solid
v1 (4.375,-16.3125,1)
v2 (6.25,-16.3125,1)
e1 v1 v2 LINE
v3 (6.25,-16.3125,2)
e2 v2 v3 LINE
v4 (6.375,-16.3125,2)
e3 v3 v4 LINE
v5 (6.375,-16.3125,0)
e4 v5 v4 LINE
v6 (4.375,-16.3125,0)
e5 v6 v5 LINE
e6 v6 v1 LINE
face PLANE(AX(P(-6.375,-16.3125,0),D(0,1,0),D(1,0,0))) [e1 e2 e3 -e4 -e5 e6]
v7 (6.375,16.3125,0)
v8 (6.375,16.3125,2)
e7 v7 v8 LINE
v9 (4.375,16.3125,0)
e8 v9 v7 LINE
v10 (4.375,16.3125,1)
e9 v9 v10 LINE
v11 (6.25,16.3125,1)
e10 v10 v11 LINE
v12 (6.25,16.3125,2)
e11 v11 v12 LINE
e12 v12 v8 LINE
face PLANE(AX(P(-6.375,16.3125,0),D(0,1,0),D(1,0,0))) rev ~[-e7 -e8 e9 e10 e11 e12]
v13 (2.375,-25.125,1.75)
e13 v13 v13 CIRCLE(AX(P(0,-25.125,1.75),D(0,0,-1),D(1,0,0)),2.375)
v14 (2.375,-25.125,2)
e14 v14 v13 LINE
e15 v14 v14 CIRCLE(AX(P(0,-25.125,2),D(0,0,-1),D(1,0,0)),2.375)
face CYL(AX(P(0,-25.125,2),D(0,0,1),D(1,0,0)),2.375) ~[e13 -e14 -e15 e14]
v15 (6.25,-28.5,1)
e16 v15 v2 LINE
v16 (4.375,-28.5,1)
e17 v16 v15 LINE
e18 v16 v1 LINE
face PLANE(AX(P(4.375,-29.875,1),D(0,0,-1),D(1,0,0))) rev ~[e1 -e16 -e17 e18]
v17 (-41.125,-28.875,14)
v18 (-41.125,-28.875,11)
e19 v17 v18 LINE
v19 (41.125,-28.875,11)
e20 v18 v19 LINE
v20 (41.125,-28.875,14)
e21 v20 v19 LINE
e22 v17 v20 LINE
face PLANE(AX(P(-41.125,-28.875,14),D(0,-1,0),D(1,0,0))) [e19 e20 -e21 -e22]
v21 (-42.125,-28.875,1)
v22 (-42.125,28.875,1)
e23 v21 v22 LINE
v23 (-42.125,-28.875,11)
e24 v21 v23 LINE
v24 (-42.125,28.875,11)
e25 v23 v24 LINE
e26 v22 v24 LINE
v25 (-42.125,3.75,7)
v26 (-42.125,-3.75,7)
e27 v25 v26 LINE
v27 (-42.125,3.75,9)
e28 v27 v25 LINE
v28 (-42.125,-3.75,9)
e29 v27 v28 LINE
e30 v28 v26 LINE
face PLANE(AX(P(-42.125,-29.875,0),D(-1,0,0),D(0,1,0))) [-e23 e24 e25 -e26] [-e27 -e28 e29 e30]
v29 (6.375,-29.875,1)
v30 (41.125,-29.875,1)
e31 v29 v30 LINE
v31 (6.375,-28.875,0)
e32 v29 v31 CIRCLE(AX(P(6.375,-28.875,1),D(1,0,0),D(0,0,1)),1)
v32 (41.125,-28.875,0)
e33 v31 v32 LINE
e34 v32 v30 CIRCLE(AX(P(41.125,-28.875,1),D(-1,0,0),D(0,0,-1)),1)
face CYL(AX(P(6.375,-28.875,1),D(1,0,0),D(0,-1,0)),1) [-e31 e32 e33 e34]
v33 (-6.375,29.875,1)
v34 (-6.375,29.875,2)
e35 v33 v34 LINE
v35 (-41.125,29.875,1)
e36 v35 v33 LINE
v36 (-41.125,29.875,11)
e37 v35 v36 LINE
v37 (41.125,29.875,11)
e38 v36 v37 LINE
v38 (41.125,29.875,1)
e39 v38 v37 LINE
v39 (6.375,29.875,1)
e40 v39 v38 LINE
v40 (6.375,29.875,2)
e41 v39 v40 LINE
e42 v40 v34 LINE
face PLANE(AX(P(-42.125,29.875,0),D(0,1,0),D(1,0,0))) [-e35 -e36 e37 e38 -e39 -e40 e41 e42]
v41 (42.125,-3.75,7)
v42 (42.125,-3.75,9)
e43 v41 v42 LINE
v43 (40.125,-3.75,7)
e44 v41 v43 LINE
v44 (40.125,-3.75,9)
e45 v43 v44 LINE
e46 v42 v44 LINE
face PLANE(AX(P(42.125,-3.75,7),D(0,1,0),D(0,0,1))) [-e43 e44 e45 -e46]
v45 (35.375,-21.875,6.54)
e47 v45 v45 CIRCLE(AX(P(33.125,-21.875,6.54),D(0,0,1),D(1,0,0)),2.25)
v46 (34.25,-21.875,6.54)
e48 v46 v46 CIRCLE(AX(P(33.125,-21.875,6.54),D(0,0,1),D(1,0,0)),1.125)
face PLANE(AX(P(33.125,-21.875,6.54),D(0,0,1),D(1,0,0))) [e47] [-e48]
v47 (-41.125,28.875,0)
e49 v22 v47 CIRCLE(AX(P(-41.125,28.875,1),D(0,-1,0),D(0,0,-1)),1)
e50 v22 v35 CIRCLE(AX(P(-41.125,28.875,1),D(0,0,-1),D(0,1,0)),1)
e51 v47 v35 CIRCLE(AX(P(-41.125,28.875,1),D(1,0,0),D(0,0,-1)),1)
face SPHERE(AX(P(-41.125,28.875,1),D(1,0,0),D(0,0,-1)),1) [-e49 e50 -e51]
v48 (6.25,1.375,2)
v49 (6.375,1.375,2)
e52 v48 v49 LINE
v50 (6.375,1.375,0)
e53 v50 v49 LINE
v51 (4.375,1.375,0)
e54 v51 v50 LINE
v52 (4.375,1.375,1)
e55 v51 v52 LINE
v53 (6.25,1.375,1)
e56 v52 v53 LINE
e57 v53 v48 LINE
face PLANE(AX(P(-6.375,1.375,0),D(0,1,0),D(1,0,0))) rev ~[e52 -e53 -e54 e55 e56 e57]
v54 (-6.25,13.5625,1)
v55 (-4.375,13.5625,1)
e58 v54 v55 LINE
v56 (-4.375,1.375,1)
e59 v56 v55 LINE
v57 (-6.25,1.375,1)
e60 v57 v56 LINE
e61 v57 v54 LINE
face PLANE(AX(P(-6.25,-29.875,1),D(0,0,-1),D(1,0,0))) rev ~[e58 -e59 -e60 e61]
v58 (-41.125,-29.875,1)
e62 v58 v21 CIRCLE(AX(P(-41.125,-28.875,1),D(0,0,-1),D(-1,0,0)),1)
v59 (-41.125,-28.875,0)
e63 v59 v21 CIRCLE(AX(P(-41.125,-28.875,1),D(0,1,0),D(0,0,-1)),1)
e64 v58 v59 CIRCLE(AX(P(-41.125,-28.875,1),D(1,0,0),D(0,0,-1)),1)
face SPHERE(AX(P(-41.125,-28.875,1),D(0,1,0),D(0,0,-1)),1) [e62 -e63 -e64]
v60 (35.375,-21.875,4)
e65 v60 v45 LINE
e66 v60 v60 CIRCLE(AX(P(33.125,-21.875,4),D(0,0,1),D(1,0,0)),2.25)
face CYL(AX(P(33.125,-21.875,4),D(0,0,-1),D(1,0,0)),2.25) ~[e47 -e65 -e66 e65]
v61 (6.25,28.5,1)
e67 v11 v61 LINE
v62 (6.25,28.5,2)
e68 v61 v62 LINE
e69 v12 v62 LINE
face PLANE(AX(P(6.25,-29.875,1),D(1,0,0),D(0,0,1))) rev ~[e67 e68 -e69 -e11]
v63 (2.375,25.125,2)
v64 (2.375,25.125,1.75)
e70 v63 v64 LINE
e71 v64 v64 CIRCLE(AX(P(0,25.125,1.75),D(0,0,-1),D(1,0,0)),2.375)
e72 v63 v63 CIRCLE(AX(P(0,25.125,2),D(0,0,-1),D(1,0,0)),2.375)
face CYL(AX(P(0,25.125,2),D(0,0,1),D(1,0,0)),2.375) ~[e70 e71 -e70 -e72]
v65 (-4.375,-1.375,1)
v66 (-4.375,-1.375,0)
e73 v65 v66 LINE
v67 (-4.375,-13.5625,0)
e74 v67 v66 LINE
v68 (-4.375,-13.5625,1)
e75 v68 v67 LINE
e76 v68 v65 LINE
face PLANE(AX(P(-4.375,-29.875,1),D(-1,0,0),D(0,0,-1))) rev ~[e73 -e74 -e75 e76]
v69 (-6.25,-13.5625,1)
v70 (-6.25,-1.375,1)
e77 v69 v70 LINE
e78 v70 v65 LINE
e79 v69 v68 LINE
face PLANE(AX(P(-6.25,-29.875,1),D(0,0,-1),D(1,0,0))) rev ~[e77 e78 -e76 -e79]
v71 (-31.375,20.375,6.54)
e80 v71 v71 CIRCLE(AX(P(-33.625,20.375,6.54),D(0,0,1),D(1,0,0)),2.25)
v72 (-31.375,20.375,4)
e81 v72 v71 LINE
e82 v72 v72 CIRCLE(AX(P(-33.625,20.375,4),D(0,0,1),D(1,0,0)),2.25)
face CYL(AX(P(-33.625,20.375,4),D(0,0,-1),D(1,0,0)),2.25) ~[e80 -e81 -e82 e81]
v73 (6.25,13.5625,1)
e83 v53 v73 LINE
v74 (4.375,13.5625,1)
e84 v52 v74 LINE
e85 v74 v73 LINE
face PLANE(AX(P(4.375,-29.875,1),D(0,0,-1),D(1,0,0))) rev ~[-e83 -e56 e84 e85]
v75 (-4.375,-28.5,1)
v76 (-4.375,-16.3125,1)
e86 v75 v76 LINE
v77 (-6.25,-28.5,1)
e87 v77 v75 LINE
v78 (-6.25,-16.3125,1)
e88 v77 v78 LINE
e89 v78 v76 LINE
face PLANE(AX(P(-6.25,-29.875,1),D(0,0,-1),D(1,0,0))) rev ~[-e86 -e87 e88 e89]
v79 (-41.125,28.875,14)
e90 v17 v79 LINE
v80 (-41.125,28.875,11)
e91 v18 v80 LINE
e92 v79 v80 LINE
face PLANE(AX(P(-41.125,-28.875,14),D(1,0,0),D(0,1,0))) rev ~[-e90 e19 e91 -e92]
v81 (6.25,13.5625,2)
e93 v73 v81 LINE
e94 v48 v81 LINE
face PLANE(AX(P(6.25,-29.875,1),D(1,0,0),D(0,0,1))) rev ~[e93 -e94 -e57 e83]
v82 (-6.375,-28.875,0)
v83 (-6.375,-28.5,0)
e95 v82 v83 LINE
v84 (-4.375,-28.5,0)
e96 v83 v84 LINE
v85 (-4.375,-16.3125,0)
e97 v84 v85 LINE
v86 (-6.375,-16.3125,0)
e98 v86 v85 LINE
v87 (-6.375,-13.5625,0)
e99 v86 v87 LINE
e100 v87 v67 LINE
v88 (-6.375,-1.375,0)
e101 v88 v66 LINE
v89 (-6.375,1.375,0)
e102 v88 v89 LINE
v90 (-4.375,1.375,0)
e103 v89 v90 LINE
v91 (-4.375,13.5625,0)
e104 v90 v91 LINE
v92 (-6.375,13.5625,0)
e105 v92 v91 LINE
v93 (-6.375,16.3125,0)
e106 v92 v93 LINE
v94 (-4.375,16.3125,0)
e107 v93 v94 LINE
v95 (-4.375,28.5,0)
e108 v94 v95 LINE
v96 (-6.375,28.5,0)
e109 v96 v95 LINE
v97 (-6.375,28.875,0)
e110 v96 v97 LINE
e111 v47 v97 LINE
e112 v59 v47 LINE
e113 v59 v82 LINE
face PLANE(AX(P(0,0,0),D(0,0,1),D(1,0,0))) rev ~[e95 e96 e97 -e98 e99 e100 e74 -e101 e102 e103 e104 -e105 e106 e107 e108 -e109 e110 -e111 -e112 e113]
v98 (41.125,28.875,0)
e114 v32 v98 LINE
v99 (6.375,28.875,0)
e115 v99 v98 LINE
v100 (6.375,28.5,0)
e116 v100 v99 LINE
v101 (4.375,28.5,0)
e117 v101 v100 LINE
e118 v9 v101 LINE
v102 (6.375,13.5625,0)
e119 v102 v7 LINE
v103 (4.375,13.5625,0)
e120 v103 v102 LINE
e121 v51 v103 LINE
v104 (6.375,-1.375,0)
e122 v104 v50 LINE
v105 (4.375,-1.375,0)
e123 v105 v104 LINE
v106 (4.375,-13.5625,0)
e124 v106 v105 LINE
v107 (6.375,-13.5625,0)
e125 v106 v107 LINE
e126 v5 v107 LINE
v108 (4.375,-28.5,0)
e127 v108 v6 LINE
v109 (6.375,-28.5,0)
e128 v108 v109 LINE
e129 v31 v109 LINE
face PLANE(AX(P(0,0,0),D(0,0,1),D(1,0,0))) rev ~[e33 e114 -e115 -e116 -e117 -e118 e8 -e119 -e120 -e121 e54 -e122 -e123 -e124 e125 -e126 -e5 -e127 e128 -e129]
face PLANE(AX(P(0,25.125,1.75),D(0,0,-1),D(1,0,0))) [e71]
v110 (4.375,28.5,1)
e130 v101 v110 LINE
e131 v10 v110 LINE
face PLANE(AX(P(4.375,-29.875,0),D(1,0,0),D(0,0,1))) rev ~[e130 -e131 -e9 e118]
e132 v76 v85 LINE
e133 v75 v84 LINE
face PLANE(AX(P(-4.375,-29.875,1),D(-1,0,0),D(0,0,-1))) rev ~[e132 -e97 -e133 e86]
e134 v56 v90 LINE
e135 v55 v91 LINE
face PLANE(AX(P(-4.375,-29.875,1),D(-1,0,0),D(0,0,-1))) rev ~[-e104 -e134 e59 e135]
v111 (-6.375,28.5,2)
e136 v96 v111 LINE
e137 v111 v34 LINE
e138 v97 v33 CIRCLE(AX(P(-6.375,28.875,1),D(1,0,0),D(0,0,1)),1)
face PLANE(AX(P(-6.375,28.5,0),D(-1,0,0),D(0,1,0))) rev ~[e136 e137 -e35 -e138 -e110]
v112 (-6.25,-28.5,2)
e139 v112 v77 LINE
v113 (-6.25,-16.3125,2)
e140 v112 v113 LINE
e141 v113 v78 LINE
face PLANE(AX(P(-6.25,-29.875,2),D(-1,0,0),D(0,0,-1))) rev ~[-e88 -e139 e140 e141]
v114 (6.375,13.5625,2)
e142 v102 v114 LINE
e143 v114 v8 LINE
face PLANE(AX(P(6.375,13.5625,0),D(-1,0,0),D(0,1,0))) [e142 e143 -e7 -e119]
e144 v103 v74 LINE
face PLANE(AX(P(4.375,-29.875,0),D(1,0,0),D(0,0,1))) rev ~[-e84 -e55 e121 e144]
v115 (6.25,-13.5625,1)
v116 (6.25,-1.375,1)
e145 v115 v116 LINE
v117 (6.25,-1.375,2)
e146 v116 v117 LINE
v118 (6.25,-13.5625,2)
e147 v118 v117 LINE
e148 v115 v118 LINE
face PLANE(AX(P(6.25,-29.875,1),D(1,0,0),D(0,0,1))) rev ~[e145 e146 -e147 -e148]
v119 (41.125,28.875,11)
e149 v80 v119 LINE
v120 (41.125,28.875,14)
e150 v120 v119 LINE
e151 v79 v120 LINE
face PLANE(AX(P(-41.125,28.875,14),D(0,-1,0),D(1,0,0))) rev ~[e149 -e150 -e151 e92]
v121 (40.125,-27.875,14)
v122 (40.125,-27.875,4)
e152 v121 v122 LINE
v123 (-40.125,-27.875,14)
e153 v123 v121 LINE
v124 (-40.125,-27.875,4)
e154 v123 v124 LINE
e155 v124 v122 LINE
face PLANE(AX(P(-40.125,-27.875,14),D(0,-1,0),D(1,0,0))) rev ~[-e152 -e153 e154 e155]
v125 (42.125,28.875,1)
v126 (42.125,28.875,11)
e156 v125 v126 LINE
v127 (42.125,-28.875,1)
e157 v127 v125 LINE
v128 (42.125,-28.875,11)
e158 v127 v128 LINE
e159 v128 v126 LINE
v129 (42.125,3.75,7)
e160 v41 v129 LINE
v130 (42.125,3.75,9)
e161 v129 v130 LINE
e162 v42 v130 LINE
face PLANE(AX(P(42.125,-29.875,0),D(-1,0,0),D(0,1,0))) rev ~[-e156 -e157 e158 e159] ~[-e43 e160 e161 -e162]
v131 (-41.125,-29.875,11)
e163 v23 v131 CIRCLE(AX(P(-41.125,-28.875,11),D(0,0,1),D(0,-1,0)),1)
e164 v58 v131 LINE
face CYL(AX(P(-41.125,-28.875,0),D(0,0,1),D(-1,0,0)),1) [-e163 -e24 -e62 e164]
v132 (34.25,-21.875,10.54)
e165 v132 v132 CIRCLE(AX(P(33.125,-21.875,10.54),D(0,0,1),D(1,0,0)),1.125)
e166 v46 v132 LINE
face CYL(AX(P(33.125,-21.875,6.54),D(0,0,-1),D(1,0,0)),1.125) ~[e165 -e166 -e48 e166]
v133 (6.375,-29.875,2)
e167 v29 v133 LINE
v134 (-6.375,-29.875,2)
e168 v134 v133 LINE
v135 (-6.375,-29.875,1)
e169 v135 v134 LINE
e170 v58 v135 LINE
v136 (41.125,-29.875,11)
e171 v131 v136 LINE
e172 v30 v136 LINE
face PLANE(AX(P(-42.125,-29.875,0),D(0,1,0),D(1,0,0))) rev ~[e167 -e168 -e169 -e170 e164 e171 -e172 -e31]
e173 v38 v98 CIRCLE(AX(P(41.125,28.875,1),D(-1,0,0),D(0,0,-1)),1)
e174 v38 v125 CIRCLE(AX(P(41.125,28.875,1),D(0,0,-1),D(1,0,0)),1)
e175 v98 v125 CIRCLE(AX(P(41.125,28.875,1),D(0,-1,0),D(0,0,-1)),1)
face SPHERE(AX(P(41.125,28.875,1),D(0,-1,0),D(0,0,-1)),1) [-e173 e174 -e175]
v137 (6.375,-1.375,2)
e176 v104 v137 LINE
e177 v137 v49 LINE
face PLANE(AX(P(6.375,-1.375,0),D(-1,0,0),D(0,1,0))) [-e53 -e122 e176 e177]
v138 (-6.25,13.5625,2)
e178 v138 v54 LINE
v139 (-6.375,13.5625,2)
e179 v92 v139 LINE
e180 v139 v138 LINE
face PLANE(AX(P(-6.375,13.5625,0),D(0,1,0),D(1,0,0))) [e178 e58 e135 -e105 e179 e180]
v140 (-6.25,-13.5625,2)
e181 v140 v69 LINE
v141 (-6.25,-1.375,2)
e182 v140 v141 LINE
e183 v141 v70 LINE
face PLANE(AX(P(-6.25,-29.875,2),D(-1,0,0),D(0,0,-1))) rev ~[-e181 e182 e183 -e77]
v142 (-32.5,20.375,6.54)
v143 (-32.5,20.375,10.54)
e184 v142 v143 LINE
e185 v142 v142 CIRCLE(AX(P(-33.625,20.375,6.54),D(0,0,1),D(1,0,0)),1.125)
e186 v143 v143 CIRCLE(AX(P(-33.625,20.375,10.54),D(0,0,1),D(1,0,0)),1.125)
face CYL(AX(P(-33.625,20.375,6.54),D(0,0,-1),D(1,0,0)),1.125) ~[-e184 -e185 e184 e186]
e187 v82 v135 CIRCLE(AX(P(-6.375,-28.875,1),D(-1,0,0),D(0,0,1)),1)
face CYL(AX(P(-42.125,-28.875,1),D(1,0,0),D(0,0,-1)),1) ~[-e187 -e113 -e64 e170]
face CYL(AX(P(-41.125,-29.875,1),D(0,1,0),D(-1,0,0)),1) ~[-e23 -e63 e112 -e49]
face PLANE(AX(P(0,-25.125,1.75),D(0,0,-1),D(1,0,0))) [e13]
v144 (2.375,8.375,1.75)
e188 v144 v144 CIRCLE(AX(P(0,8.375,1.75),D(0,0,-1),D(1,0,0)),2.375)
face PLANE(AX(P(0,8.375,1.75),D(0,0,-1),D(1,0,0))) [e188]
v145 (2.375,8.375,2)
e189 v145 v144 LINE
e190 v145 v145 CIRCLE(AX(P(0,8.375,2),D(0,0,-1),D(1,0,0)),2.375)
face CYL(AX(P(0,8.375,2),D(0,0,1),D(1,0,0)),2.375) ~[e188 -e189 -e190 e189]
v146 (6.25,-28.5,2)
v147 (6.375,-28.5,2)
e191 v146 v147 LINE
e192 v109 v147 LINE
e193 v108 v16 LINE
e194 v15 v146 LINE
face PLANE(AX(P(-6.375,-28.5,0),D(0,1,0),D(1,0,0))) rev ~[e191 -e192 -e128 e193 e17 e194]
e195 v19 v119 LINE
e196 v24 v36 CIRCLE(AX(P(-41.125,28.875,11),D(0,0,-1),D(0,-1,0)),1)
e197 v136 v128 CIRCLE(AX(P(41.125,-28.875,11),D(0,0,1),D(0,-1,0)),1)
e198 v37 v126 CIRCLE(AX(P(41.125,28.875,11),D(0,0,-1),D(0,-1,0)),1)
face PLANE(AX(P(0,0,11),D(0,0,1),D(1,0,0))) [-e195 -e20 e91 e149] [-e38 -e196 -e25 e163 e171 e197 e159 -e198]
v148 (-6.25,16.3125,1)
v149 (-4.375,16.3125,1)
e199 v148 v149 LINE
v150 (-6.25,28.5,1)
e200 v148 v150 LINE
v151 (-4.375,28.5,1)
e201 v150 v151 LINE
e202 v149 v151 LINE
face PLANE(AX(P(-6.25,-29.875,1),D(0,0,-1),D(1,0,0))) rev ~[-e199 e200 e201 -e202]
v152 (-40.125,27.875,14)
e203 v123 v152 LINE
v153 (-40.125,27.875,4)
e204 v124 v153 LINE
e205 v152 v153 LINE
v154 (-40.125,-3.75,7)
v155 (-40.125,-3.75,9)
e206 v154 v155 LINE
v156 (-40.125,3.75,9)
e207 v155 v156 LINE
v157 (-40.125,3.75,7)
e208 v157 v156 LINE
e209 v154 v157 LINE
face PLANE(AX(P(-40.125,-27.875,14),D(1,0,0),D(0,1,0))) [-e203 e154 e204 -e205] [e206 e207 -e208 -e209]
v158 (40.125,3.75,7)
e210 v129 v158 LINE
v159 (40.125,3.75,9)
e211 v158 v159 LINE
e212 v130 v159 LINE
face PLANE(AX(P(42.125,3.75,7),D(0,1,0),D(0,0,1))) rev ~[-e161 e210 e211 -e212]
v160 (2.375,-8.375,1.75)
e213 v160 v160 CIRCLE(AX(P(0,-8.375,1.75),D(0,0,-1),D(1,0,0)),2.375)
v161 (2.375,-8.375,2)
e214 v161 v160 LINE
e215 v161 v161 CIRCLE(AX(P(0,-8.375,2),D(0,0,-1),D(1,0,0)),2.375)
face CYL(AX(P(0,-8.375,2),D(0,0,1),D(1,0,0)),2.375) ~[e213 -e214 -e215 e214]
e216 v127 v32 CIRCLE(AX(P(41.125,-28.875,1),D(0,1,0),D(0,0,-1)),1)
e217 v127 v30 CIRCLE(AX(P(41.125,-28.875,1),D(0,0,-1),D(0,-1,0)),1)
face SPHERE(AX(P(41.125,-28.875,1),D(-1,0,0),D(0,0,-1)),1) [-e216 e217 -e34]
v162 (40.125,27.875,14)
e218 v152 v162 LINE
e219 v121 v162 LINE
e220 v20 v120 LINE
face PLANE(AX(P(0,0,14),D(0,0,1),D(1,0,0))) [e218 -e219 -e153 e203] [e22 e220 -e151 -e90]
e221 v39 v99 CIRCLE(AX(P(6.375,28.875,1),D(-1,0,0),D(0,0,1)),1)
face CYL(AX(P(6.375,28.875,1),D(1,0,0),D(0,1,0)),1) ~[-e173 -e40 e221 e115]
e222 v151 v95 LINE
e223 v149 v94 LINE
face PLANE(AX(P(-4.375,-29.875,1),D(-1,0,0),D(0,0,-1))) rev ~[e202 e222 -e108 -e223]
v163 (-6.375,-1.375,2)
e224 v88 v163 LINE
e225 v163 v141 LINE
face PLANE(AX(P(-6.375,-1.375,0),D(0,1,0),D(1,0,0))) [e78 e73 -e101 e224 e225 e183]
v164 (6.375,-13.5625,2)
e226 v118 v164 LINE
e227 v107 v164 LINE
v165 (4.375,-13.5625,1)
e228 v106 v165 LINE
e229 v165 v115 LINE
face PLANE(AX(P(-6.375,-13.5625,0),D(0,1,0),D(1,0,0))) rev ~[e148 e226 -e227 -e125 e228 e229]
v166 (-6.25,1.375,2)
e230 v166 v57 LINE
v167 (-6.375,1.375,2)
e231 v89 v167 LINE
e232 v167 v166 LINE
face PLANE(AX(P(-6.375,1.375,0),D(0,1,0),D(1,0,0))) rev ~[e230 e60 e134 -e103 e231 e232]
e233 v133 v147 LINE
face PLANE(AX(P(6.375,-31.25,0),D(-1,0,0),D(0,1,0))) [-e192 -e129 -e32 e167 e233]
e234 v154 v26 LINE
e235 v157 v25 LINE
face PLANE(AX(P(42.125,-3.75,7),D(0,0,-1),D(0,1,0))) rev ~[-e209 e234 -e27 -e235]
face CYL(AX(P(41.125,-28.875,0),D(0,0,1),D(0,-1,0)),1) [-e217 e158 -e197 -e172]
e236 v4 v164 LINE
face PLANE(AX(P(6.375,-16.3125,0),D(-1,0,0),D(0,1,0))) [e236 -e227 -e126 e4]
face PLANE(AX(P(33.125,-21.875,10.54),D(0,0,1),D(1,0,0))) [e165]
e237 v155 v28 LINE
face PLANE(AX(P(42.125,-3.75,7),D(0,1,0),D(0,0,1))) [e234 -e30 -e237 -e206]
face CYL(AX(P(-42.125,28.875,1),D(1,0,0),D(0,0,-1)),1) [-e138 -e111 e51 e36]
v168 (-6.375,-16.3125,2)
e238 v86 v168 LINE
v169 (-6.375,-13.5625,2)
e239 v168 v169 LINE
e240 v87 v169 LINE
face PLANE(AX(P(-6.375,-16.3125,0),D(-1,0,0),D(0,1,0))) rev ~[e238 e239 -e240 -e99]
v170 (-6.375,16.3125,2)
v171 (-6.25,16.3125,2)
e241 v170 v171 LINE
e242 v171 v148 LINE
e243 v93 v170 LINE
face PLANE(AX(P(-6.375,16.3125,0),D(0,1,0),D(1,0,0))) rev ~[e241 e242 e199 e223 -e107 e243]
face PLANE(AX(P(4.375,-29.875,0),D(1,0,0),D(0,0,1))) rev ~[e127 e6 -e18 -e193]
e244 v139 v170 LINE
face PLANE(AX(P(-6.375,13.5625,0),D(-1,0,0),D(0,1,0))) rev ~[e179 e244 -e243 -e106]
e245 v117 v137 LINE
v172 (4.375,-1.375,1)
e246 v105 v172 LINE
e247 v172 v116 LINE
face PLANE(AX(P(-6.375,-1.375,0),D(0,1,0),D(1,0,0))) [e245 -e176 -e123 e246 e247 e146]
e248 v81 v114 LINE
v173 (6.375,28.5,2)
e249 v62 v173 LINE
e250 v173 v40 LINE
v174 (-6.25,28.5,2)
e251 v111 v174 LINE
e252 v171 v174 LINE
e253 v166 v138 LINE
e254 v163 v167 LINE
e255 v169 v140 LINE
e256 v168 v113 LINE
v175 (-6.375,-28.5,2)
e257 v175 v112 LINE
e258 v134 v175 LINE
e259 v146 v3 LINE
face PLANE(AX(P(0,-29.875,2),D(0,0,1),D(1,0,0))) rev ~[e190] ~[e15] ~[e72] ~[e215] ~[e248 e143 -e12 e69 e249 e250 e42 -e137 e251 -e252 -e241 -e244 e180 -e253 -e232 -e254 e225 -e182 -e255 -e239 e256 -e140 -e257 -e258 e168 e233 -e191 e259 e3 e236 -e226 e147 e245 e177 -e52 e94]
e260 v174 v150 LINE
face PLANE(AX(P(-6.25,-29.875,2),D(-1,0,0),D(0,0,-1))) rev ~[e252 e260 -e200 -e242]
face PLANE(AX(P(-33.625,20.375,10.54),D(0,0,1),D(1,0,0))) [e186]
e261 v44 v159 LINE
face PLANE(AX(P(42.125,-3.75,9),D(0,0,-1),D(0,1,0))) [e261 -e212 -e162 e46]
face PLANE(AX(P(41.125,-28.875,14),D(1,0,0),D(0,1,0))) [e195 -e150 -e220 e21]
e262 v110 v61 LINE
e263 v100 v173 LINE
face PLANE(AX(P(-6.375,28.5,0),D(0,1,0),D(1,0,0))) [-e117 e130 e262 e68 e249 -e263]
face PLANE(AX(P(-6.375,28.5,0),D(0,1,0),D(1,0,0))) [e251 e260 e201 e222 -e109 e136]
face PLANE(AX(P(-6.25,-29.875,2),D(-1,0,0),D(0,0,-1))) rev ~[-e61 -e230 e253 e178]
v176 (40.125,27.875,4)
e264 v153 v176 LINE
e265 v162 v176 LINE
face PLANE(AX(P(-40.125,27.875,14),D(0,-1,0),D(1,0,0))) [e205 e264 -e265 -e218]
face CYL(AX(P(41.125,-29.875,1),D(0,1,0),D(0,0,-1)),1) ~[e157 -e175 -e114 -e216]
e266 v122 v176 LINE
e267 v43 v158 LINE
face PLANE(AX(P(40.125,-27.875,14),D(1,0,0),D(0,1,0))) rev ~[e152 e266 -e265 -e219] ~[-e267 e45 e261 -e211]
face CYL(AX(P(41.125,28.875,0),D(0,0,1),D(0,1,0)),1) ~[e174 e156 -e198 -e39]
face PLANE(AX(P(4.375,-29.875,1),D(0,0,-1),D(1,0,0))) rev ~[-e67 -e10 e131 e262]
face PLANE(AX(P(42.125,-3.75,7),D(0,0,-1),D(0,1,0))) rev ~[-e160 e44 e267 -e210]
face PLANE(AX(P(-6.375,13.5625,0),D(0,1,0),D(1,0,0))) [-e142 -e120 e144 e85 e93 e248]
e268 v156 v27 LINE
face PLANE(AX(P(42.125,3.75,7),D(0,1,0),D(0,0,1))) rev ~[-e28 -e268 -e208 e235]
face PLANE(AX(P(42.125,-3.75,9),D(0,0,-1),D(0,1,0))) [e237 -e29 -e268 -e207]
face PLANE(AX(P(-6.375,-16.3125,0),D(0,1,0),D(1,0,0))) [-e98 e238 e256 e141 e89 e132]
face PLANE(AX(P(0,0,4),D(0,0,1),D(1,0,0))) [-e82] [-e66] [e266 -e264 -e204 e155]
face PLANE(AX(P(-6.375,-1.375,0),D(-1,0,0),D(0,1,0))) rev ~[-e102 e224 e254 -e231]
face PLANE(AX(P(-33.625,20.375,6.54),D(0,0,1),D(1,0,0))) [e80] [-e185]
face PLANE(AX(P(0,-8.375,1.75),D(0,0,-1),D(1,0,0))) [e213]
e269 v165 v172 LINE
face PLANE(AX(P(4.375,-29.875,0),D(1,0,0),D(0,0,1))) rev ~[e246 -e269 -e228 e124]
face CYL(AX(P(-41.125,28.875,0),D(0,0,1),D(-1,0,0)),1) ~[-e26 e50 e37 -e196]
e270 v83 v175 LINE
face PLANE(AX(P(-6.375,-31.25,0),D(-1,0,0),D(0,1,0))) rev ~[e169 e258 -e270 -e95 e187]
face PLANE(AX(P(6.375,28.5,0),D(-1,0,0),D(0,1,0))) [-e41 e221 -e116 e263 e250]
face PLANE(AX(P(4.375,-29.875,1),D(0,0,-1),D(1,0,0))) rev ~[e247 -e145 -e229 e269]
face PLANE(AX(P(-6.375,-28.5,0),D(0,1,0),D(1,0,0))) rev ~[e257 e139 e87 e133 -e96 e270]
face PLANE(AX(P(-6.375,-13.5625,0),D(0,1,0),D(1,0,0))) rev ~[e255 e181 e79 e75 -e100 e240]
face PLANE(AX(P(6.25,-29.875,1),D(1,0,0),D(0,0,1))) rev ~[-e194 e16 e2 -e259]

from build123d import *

# Parameters (mm, degrees)
F0_W      = 84.25
F0_H      = 59.75
F0_W_2    = 76.25
F0_H_2    = 51.75
F1_DEPTH  = 14
F2_W      = 80.25
F2_H      = 55.75
F3_DEPTH  = 10
F5_DEPTH  = 62
F6_W      = 12.75
F6_H      = 2.75
F7_DEPTH  = 2
F8_R      = 2.375
F9_DEPTH  = 0.25
F10_W     = 84.25
F10_H     = 59.75
F10_W_2   = 82.25
F10_H_2   = 57.75
F11_DEPTH = 3
F12_W     = 7.5
F12_H     = 2
F13_DEPTH = 85
F14_R     = 1
F15_R     = 2.25
F16_DEPTH = 2.54
F17_R     = 1.125
F18_DEPTH = 4
F19_DEPTH = 2.54
F20_R     = 1.125
F21_DEPTH = 4


with BuildPart() as f1:
    # F0 (on Top) → F1 (new body)
    with BuildSketch(Plane.XY):
        Rectangle(F0_W, F0_H)
        Rectangle(F0_W_2, F0_H_2, mode=Mode.SUBTRACT)
        Rectangle(F0_W_2, F0_H_2)
    extrude(amount=F1_DEPTH)

    # F2 (on face) → F3 (cut)
    with BuildSketch(Plane.XY.offset(14)):
        Rectangle(F2_W, F2_H)
    extrude(amount=-F3_DEPTH, mode=Mode.SUBTRACT)

    # F4 (on face) → F5 (cut)
    with BuildSketch(Plane.XZ.offset(29.875)):
        Polygon((-4.375, 0), (0, 0), (0, 2), (-6.25, 2), (-6.25, 1), (-4.375, 1), align=None)
        Polygon((0, 2), (0, 0), (4.375, 0), (4.375, 1), (6.25, 1), (6.25, 2), align=None)
    extrude(amount=-F5_DEPTH, mode=Mode.SUBTRACT)

    # F6 (on Top) → F7 (cut)
    with BuildSketch(Plane.XY):
        with Locations((0, 29.875)):
            Rectangle(F6_W, F6_H)
        with Locations((0, 14.9375)):
            Rectangle(F6_W, F6_H)
        Rectangle(F6_W, F6_H)
        with Locations((0, -14.9375)):
            Rectangle(F6_W, F6_H)
        with Locations((0, -29.875)):
            Rectangle(F6_W, F6_H)
    extrude(amount=F7_DEPTH, mode=Mode.SUBTRACT)

    # F8 (on face) → F9 (join)
    with BuildSketch(Plane(origin=(0, 0, 2), x_dir=(1, 0, 0), z_dir=(0, 0, -1))):
        with Locations((0, 25.125)):
            Circle(F8_R)
        with Locations((0, 8.375)):
            Circle(F8_R)
        with Locations((0, -8.375)):
            Circle(F8_R)
        with Locations((0, -25.125)):
            Circle(F8_R)
    extrude(amount=F9_DEPTH)

    # F10 (on face) → F11 (cut)
    with BuildSketch(Plane.XY.offset(14)):
        Rectangle(F10_W, F10_H)
        Rectangle(F10_W_2, F10_H_2, mode=Mode.SUBTRACT)
    extrude(amount=-F11_DEPTH, mode=Mode.SUBTRACT)

    # F12 (on face) → F13 (cut)
    with BuildSketch(Plane.YZ.offset(42.125)):
        with Locations((0, 8)):
            Rectangle(F12_W, F12_H)
    extrude(amount=-F13_DEPTH, mode=Mode.SUBTRACT)

    # F14
    f14_edges = [f1.edges().sort_by_distance(p)[0] for p in [
        (24.25, -29.875, 0),
        (42.125, 0, 0),
        (24.25, 29.875, 0),
        (-24.25, 29.875, 0),
        (-42.125, 0, 0),
        (-24.25, -29.875, 0),
        (42.125, -29.875, 5.5),
        (42.125, 29.875, 5.5),
        (-42.125, -29.875, 5.5),
        (-42.125, 29.875, 5.5),
    ]]
    fillet(f14_edges, radius=F14_R)

    # F15 (on face) → F16 (join)
    with BuildSketch(Plane.XY.offset(4)):
        with Locations((-33.625, 20.375)):
            Circle(F15_R)
    extrude(amount=F16_DEPTH)

    # F17 (on face) → F18 (join)
    with BuildSketch(Plane.XY.offset(6.54)):
        with Locations((-33.625, 20.375)):
            Circle(F17_R)
    extrude(amount=F18_DEPTH)

    # F15 (on face) → F19 (join)
    with BuildSketch(Plane.XY.offset(4)):
        with Locations((33.125, -21.875)):
            Circle(F15_R)
    extrude(amount=F19_DEPTH)

    # F20 (on face) → F21 (join)
    with BuildSketch(Plane.XY.offset(6.54)):
        with Locations((33.125, -21.875)):
            Circle(F20_R)
    extrude(amount=F21_DEPTH)


solid = f1.part
